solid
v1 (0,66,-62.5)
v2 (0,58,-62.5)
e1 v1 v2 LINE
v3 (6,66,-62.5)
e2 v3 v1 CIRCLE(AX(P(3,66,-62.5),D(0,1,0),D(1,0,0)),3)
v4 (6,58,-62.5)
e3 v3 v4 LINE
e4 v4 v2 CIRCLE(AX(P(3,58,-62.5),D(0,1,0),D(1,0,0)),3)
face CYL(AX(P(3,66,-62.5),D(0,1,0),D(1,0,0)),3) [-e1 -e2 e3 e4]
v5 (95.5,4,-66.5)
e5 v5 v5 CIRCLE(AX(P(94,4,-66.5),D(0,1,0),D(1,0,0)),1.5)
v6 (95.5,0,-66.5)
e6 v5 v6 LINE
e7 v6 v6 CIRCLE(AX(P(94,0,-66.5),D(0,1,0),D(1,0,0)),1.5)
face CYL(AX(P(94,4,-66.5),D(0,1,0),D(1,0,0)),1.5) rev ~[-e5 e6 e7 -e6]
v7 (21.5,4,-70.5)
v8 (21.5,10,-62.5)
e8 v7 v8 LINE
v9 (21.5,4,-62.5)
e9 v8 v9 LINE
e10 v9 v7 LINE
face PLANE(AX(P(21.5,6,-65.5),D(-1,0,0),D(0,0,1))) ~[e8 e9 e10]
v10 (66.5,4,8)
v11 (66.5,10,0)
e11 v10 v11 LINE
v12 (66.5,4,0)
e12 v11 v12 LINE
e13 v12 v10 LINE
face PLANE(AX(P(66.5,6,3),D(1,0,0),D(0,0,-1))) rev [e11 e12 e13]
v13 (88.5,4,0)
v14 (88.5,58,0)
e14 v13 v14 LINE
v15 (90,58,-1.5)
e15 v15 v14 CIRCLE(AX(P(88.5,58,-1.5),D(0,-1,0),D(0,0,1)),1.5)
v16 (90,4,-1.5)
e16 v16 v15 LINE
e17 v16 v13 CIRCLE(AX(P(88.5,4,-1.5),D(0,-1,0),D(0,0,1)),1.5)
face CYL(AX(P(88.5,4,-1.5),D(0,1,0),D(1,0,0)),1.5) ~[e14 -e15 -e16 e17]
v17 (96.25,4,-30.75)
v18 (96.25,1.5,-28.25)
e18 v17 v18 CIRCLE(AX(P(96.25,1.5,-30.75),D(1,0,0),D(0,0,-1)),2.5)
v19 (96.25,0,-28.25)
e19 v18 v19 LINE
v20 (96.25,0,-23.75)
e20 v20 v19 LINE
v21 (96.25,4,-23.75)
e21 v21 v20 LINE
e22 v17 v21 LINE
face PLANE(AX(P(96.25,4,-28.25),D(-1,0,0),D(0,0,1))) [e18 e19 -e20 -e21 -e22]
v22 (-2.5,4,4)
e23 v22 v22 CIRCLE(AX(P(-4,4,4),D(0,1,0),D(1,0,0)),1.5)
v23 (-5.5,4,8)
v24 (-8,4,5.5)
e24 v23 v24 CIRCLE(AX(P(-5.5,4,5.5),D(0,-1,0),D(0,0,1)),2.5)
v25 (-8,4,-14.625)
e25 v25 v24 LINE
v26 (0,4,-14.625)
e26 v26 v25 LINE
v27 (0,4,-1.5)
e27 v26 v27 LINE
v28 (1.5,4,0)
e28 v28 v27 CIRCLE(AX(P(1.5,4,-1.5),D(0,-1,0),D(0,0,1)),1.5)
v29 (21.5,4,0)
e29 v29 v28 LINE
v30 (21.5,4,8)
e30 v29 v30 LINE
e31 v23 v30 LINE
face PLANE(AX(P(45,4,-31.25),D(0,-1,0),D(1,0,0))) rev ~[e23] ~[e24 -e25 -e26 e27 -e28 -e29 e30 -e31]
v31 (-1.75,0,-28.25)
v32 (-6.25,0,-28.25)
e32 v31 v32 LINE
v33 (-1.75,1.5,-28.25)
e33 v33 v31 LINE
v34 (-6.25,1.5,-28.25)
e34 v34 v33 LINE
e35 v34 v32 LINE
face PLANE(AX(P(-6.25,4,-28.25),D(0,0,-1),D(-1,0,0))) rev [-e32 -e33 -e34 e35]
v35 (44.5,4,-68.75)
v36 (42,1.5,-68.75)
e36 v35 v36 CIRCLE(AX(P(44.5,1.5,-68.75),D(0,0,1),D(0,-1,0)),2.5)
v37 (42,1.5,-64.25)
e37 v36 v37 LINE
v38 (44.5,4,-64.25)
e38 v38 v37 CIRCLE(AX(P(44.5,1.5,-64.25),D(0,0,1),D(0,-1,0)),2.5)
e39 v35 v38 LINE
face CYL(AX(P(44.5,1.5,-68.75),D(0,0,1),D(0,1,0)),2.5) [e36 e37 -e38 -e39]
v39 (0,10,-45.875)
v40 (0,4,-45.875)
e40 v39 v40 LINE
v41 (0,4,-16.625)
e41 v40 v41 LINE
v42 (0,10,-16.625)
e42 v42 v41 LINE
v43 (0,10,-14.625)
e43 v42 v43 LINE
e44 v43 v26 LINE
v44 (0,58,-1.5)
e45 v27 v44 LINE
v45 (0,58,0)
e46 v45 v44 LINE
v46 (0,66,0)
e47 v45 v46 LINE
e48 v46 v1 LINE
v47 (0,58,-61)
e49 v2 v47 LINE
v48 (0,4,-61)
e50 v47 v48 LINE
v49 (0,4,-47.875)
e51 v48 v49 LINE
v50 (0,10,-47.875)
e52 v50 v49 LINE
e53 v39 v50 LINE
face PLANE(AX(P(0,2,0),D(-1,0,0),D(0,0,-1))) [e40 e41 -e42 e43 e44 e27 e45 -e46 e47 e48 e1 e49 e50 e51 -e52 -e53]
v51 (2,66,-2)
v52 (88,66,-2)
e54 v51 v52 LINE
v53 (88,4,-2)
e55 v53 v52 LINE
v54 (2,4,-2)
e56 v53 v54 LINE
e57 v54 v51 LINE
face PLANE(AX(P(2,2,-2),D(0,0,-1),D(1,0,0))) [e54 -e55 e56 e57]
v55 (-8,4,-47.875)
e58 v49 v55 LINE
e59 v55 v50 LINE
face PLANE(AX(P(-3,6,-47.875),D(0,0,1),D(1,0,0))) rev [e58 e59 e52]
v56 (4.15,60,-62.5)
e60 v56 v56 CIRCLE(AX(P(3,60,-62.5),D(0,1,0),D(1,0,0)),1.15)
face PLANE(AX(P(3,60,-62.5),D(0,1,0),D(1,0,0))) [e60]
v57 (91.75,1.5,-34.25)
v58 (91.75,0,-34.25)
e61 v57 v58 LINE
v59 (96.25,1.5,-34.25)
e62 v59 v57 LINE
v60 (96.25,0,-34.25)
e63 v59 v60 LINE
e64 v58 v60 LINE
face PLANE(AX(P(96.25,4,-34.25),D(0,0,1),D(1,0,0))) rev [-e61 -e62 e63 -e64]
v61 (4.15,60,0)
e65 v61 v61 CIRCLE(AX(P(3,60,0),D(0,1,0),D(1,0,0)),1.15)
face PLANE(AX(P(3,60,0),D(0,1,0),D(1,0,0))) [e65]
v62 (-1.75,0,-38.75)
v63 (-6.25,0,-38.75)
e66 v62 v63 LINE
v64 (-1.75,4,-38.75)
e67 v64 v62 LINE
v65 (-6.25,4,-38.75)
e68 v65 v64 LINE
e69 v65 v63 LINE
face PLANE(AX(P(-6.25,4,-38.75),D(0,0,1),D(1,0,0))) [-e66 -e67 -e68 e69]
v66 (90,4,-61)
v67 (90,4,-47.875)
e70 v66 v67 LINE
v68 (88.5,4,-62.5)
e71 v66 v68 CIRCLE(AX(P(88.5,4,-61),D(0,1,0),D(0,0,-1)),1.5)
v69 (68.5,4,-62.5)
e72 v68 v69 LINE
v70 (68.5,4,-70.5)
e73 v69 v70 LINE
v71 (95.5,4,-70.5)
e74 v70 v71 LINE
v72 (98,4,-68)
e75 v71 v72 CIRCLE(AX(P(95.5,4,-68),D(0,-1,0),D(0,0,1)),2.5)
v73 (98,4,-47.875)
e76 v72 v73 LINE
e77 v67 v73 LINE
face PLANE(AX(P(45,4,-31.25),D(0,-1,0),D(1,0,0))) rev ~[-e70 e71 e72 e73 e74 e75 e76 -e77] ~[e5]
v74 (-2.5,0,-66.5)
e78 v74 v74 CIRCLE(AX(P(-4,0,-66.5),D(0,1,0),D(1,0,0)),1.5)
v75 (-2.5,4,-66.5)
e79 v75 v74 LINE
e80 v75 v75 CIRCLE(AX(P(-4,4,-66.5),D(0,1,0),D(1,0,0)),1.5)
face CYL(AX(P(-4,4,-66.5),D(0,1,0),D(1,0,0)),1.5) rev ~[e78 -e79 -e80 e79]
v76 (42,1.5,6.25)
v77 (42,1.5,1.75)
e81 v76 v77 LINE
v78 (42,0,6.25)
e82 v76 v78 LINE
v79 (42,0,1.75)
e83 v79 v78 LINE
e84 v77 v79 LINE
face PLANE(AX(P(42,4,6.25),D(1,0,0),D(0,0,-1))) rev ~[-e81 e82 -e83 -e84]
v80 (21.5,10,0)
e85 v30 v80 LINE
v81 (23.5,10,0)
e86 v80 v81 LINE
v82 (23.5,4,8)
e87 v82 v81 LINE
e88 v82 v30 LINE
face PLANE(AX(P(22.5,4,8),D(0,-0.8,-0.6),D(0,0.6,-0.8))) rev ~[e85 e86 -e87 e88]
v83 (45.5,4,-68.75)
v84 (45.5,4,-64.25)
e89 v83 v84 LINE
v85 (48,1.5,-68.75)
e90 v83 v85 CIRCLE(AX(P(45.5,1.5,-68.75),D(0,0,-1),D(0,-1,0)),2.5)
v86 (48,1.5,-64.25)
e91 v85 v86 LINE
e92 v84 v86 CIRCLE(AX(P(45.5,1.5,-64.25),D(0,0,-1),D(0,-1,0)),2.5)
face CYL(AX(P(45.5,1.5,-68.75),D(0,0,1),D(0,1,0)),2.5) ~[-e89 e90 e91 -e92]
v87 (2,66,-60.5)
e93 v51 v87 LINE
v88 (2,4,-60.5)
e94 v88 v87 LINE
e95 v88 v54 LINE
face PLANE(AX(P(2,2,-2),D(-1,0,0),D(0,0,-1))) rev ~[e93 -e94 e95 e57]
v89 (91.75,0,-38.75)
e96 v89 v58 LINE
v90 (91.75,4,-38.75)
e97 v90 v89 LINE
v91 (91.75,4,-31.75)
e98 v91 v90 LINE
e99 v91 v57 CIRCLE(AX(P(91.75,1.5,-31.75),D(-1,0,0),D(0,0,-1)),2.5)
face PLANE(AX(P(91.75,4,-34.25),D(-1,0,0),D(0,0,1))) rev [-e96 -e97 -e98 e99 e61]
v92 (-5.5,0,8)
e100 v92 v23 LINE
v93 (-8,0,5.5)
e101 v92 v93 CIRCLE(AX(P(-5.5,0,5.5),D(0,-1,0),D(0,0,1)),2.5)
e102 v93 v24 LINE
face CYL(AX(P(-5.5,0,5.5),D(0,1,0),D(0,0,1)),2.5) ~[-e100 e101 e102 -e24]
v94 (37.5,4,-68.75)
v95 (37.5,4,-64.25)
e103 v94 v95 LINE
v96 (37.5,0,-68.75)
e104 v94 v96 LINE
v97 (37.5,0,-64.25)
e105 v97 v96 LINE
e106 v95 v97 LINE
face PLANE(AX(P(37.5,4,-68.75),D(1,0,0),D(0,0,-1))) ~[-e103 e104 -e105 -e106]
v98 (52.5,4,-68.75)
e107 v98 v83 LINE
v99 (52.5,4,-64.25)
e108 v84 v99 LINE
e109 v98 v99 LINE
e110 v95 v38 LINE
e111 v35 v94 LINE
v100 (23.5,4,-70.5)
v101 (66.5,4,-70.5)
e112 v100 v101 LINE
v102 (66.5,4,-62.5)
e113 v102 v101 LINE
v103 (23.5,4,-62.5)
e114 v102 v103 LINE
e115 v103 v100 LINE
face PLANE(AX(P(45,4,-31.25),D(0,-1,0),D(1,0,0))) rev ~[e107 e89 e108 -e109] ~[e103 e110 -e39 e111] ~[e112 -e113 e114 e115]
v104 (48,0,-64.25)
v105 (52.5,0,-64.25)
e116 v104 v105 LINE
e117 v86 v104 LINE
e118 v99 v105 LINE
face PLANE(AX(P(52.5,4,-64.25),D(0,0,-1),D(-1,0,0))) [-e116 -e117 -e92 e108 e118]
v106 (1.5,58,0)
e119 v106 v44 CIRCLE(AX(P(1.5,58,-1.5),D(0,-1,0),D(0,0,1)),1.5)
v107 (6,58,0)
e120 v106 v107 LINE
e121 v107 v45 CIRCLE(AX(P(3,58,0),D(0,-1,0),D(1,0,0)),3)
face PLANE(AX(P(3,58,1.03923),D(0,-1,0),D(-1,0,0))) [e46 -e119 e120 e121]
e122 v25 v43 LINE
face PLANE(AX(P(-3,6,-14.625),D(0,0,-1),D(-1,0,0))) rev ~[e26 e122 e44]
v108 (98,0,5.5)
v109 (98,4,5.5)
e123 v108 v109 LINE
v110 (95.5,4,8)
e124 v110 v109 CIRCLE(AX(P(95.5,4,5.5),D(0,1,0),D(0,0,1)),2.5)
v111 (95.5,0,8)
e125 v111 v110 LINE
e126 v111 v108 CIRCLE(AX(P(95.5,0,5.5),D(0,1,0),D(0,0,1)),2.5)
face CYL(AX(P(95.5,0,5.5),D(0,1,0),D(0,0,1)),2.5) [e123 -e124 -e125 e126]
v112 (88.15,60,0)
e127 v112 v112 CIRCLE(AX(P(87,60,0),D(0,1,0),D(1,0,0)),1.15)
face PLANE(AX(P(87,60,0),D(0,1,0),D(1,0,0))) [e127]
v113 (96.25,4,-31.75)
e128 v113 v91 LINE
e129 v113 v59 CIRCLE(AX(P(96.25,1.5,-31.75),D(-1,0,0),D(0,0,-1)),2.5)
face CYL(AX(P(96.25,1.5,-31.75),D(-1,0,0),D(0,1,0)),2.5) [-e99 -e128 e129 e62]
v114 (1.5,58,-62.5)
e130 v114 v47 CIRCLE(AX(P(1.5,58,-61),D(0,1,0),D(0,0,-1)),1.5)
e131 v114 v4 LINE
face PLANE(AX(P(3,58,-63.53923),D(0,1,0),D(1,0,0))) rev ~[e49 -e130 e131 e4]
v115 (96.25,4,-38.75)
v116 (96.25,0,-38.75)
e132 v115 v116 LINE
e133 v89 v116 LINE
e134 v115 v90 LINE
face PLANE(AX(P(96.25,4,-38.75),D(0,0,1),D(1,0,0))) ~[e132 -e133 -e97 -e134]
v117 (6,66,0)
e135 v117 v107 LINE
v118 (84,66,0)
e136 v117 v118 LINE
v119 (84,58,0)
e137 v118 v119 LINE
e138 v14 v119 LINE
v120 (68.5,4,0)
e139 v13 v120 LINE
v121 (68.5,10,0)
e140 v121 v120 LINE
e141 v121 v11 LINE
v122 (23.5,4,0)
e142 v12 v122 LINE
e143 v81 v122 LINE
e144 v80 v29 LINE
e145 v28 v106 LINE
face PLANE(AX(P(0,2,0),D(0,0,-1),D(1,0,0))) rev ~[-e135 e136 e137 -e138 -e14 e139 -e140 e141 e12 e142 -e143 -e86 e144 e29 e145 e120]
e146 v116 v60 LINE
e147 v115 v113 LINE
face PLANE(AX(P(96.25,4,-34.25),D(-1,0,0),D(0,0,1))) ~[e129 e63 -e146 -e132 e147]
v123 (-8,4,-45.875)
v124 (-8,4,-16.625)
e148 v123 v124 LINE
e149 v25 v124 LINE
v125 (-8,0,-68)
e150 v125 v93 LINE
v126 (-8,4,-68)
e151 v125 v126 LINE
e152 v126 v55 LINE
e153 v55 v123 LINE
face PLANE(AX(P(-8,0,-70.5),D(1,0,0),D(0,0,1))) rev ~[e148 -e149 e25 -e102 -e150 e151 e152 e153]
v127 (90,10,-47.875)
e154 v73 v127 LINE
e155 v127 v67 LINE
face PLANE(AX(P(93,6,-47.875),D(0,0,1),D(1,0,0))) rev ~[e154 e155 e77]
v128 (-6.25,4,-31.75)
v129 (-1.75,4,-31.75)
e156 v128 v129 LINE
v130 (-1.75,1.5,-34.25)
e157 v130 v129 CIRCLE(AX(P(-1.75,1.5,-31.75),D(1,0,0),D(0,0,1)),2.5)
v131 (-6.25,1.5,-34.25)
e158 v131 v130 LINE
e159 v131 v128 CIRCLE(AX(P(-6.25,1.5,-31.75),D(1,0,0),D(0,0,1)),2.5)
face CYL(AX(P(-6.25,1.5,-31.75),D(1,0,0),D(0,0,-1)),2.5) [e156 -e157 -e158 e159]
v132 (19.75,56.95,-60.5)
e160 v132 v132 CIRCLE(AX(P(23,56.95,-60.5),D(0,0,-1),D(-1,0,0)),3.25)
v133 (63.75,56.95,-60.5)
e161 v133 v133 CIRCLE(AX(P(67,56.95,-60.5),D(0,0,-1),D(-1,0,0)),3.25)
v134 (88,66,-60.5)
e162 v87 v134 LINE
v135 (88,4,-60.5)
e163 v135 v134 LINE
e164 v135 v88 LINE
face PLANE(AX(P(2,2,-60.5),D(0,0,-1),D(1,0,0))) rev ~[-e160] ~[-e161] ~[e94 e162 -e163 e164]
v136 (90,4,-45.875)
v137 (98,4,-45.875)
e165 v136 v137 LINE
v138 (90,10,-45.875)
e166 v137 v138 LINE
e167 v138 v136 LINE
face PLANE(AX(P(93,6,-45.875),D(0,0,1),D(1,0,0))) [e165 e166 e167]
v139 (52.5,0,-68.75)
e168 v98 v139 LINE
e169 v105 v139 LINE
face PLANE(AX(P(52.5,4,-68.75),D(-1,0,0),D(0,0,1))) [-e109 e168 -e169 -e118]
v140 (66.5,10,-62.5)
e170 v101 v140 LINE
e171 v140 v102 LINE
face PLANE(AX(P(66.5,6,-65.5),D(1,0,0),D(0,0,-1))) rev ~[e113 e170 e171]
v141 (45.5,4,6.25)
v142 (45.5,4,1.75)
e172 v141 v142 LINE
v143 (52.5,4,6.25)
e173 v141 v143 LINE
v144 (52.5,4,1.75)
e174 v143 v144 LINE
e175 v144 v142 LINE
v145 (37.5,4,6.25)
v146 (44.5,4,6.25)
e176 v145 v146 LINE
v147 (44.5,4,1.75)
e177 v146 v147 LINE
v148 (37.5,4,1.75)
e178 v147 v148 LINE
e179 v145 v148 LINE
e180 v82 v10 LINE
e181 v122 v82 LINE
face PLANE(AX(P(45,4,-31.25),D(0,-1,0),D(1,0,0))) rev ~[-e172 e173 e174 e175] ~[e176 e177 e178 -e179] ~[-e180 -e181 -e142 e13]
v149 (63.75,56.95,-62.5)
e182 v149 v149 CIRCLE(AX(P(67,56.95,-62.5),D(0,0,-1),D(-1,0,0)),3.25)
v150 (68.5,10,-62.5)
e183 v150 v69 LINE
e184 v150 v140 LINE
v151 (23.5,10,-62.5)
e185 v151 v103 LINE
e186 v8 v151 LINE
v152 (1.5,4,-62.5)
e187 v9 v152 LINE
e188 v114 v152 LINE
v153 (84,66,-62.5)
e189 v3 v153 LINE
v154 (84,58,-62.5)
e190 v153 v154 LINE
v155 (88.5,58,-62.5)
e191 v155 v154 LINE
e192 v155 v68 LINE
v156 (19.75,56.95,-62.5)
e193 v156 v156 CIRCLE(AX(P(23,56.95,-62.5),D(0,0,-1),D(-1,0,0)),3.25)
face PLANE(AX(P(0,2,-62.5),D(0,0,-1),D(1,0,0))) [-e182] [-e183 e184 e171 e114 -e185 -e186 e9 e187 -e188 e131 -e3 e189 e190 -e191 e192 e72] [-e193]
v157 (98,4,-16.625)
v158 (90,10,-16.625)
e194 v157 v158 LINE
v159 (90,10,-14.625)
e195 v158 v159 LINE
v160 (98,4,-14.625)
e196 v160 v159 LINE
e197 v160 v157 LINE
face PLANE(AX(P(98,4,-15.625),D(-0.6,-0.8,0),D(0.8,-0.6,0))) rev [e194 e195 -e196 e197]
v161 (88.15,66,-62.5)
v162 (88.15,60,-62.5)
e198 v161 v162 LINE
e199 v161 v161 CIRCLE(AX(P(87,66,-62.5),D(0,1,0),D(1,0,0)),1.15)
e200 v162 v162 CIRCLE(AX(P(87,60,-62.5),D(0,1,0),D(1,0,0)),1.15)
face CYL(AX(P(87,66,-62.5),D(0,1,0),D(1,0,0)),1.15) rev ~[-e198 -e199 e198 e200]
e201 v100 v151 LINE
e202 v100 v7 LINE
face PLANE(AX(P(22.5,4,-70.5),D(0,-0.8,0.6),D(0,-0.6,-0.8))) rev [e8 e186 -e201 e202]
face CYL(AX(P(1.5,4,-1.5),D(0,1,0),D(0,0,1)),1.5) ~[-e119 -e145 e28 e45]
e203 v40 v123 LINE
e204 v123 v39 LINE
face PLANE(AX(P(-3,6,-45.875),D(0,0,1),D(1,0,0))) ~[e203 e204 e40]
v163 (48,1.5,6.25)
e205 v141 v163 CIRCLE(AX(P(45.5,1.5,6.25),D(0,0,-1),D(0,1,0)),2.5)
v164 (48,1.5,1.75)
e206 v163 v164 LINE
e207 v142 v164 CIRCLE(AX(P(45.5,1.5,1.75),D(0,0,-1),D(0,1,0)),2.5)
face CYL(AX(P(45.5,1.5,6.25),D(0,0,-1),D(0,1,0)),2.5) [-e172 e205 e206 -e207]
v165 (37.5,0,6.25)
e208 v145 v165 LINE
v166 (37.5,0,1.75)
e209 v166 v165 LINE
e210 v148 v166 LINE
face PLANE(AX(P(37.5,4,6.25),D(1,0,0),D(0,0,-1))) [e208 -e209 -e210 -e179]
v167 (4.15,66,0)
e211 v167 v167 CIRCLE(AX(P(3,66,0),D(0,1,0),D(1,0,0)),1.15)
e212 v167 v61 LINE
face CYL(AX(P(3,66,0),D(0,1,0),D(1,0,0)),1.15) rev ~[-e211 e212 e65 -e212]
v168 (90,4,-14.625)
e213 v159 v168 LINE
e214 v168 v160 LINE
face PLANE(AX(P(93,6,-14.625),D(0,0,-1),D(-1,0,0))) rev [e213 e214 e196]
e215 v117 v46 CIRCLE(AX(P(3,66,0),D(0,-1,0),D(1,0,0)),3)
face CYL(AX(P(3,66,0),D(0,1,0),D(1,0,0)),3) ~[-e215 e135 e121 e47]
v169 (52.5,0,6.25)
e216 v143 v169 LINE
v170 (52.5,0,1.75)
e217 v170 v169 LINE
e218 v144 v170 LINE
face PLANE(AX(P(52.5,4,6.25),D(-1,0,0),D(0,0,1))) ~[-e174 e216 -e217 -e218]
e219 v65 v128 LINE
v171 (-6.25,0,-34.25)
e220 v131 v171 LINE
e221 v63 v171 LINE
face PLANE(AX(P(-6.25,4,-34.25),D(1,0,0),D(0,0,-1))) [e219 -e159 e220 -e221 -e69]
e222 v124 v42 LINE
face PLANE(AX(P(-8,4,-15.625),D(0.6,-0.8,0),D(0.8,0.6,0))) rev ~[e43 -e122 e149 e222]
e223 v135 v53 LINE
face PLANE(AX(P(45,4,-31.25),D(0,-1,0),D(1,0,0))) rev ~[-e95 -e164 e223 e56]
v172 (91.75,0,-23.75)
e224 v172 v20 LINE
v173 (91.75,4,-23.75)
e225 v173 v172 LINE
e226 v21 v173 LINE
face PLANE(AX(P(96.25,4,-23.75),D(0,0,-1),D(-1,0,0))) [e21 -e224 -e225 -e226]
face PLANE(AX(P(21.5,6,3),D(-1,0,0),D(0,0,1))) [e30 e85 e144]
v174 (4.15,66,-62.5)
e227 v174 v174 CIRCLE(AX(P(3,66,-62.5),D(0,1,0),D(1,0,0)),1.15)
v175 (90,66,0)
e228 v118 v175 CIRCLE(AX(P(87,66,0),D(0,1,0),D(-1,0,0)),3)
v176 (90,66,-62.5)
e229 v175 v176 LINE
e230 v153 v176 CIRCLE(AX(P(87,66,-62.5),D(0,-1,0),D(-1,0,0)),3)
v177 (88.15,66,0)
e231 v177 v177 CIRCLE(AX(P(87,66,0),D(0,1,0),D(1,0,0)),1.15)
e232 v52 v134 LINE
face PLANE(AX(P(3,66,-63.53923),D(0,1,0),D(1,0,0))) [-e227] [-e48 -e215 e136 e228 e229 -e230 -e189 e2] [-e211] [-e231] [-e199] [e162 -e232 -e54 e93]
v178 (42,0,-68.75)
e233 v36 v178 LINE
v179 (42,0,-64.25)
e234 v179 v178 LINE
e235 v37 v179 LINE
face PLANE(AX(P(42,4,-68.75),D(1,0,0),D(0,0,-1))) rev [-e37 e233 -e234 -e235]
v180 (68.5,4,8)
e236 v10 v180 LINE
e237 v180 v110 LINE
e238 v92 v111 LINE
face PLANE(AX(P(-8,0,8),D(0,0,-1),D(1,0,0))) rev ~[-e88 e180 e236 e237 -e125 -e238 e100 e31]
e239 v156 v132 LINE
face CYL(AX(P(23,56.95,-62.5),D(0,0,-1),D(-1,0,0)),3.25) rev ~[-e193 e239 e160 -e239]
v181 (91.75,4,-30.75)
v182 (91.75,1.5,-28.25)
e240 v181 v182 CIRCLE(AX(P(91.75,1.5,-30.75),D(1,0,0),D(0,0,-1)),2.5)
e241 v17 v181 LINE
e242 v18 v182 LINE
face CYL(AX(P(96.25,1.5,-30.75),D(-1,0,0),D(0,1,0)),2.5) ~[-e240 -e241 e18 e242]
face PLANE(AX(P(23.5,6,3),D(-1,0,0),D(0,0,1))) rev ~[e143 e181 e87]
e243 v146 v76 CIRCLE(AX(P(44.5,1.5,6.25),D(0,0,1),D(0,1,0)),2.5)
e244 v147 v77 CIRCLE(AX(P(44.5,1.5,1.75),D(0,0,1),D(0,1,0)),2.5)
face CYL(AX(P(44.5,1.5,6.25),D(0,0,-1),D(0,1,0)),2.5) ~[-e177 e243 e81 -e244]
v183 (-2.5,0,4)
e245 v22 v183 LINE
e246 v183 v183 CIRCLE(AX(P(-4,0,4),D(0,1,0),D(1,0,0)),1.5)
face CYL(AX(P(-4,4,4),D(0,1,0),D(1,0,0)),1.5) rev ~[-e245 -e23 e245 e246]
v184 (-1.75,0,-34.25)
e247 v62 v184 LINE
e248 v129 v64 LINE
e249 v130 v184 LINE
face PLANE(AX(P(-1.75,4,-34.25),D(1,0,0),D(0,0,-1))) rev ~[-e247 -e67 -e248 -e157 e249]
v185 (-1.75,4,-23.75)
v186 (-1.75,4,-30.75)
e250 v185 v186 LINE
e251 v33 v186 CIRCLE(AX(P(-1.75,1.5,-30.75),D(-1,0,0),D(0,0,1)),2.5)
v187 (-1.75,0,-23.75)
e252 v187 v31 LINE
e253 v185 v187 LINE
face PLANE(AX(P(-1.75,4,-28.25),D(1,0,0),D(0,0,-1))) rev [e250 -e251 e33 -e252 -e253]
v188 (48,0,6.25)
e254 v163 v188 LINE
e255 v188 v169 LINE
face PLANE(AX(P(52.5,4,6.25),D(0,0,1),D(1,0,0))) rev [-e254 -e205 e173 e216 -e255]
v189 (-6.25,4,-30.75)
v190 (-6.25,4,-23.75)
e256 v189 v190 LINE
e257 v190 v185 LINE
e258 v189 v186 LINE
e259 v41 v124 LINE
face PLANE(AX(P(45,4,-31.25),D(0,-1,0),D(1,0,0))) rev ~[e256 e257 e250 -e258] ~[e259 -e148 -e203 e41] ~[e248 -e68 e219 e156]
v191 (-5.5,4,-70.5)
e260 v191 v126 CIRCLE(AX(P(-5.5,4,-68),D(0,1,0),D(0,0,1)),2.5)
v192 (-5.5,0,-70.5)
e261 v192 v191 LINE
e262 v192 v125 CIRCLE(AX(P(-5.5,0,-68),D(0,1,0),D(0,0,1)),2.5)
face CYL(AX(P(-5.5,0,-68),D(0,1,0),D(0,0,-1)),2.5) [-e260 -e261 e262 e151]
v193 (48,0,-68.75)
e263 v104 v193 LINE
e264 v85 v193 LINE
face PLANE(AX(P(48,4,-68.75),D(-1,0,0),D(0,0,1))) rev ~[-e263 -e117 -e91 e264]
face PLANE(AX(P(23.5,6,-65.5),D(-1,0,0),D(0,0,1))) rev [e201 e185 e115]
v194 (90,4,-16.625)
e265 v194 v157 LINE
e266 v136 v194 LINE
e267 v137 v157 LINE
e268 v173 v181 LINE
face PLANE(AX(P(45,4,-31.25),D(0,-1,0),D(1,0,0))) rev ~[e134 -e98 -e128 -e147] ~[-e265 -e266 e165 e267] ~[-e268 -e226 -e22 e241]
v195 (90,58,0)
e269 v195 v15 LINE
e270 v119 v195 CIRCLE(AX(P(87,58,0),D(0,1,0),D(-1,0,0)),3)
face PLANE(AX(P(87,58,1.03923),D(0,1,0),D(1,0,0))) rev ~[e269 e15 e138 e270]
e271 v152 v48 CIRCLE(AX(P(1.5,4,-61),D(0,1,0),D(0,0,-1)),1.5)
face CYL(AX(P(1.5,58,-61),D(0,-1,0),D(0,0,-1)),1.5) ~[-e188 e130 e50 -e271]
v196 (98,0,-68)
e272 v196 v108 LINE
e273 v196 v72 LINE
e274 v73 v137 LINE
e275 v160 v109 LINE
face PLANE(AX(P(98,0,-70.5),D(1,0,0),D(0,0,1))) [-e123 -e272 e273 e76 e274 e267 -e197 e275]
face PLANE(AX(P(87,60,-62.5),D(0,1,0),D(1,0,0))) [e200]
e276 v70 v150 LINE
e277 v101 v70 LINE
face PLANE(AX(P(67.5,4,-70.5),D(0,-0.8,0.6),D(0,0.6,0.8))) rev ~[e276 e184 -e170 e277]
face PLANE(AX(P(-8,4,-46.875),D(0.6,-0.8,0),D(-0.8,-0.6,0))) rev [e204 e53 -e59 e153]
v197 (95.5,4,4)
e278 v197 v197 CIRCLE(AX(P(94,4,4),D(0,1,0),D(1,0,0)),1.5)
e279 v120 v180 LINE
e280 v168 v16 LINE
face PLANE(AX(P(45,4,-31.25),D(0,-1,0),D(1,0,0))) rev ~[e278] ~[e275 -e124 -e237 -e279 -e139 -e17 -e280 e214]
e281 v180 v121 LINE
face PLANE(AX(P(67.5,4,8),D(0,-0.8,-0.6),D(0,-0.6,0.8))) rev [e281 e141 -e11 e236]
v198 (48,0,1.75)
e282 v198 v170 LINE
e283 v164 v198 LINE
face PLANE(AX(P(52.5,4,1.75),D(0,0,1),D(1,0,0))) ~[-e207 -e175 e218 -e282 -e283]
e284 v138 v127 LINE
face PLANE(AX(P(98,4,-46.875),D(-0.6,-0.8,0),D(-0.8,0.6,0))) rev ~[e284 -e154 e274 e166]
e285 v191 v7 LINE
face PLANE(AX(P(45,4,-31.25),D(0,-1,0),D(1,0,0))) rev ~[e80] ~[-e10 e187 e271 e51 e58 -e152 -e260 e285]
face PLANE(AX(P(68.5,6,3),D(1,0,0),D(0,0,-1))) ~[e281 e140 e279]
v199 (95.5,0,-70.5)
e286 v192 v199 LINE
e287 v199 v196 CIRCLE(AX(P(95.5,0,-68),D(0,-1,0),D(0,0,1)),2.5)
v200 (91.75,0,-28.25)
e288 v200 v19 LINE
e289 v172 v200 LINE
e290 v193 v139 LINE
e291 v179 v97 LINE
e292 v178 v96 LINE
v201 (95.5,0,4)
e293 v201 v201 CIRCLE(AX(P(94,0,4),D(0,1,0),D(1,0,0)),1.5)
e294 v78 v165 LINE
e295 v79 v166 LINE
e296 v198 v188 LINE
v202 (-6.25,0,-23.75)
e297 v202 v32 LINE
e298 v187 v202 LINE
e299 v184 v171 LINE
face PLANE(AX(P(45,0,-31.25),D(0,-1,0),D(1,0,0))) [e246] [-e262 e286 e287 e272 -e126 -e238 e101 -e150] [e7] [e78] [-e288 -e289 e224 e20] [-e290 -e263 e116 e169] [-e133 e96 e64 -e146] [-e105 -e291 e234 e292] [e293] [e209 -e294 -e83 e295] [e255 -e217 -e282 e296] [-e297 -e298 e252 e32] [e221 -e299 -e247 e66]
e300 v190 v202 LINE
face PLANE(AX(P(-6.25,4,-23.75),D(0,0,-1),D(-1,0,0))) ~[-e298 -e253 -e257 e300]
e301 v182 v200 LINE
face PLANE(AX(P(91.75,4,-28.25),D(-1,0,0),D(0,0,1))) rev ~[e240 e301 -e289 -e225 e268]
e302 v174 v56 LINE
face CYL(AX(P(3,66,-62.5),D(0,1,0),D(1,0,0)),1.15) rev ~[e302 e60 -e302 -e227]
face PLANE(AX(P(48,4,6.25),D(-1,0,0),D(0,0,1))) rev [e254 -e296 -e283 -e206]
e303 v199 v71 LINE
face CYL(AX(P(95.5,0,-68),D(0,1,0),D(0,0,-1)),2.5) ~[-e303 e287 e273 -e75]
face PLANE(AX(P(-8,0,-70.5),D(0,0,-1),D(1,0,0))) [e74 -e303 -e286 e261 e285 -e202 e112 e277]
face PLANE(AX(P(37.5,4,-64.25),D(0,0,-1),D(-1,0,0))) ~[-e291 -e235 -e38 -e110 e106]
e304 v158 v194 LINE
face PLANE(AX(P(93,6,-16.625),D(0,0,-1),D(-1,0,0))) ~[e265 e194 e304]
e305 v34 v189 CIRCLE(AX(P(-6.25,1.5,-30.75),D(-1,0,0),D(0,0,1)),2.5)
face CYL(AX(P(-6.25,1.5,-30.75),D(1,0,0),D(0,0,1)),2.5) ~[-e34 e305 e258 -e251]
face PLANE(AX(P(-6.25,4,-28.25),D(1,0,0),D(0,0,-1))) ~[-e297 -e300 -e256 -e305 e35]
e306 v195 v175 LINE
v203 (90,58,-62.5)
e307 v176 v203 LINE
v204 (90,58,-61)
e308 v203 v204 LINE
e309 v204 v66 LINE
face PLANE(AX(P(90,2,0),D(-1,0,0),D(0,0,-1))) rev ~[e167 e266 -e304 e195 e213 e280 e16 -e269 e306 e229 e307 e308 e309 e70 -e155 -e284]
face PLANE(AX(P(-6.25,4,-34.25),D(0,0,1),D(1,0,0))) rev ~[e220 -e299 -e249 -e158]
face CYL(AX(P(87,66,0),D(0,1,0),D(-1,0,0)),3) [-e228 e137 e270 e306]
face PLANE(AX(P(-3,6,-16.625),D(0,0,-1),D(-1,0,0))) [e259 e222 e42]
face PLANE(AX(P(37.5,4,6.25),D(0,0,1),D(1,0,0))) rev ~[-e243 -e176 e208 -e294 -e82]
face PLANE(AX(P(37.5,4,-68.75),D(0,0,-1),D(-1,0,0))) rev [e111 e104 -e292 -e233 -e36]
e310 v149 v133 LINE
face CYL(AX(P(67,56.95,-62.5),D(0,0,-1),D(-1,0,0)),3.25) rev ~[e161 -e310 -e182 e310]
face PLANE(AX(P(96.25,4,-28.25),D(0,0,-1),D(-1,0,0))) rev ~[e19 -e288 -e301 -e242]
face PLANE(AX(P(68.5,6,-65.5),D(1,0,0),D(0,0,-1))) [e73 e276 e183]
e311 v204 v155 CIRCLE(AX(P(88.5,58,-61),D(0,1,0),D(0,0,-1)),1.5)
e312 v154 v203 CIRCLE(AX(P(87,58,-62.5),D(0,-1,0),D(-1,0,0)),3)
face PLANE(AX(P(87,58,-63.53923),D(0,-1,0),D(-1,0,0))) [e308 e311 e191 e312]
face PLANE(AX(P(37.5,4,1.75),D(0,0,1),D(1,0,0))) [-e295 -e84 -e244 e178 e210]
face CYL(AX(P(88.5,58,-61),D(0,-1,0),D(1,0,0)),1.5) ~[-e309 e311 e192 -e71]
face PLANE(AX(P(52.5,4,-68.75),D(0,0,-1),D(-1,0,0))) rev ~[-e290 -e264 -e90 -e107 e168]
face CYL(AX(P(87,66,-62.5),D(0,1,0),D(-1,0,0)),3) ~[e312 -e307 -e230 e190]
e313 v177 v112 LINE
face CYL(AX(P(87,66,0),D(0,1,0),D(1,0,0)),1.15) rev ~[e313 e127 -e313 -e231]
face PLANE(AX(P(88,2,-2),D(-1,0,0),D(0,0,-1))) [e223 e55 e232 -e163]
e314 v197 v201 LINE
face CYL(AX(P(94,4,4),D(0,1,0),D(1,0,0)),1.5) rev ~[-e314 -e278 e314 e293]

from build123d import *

# Parameters (mm, degrees)
BASE_W                                       = 90
BASE_H                                       = 62.5
BASE_EXTRUDE_DEPTH                           = 2
WALLS_W                                      = 90
WALLS_H                                      = 62.5
WALLS_W_2                                    = 86
WALLS_H_2                                    = 58.5
WALLS_EXTRUDE_DEPTH                          = 64
OUTJUT_EXTRUDE_DEPTH                         = 8
HOLES_R                                      = 1.15
HOLES_CUT_DEPTH                              = 6
ANTENNA_GPS_HOLES_R                          = 3.25
ANTENNA_GPS_HOLES_CUT_DEPTH                  = 2
PAD_W                                        = 106
PAD_H                                        = 78.5
PAD_EXTRUDE_DEPTH                            = 4
SCREW_HOLES_R                                = 1.5
SCREW_HOLES_CUT_DEPTH                        = 5
WALL_FILLETS_R                               = 1.5
LENGTH_SUPPORTS_EXTRUDE_DEPTH                = 1
LENGTH_SUPPORT_EXTRUDE_OPPOSING_MIRR_2_DEPTH = 1
WIDTH_SUPPORTS_EXTRUDE_DEPTH                 = 1
WIDTH_SUPPORTS_EXTRUDE_OPPOSING_MIRR_2_DEPTH = 1
ZIP_TIE_HOLE_W                               = 4.5
ZIP_TIE_HOLE_H                               = 4.5
ZIP_TIE_HOLE_LENGTH_CUT_DEPTH                = 5
ZIP_TIE_HOLE_LENGTH_OPPOSING_MIRROR_COPY_W   = 4.5
ZIP_TIE_HOLE_LENGTH_OPPOSING_MIRROR_COPY_H   = 4.5
ZIP_TIE_HOLE_LENGTH_OPPOSING_MIRROR_2_DEPTH  = 5
ZIP_TIE_HOLE_WIDTH_W                         = 4.5
ZIP_TIE_HOLE_WIDTH_H                         = 4.5
ZIP_TIE_HOLE_WIDTH_CUT_DEPTH                 = 5
ZIP_TIE_HOLE_WIDTH_OPPOSING_MIRROR_COPY_W    = 4.5
ZIP_TIE_HOLE_WIDTH_OPPOSING_MIRROR_COPY_H    = 4.5
ZIP_TIE_HOLE_WIDTH_OPPOSING_MIRROR_C_2_DEPTH = 5
ZIP_TIE_FILLETS_R                            = 2.5
PAD_FILLETS_R                                = 2.5


with BuildPart() as part:
    # Base → Base Extrude (new body)
    with BuildSketch(Plane(origin=(0, 0, 0), x_dir=(1, 0, 0), z_dir=(0, 1, 0))):
        with Locations((45, 31.25)):
            Rectangle(BASE_W, BASE_H)
    extrude(amount=BASE_EXTRUDE_DEPTH)

    # Walls → Walls Extrude (add)
    with BuildSketch(Plane(origin=(0, 2, 0), x_dir=(1, 0, 0), z_dir=(0, 1, 0))):
        with Locations((45, 31.25)):
            Rectangle(WALLS_W, WALLS_H)
        with Locations((45, 31.25)):
            Rectangle(WALLS_W_2, WALLS_H_2, mode=Mode.SUBTRACT)
    extrude(amount=WALLS_EXTRUDE_DEPTH)

    # Outjut → Outjut Extrude (add)
    with BuildSketch(Plane(origin=(0, 66, 0), x_dir=(1, 0, 0), z_dir=(0, 1, 0))):
        with BuildLine():
            Line((0, 62.5), (6, 62.5))
            ThreePointArc((6, 62.5), (3, 65.5), (0, 62.5))
        make_face()
        with BuildLine():
            Line((90, 62.5), (84, 62.5))
            ThreePointArc((84, 62.5), (87, 65.5), (90, 62.5))
        make_face()
        with BuildLine():
            Line((90, 0), (84, 0))
            ThreePointArc((84, 0), (87, -3), (90, 0))
        make_face()
        with BuildLine():
            Line((0, 0), (6, 0))
            ThreePointArc((6, 0), (3, -3), (0, 0))
        make_face()
    extrude(amount=-OUTJUT_EXTRUDE_DEPTH)

    # Holes → Holes Cut (cut)
    with BuildSketch(Plane(origin=(0, 66, 0), x_dir=(1, 0, 0), z_dir=(0, 1, 0))):
        with Locations((3, 62.5)):
            Circle(HOLES_R)
        with Locations((87, 62.5)):
            Circle(HOLES_R)
        with Locations((87, 0)):
            Circle(HOLES_R)
        with Locations((3, 0)):
            Circle(HOLES_R)
    extrude(amount=-HOLES_CUT_DEPTH, mode=Mode.SUBTRACT)

    # Antenna/GPS Holes → Antenna/GPS Holes Cut (cut)
    with BuildSketch(Plane(origin=(0, 0, -62.5), x_dir=(-1, 0, 0), z_dir=(0, 0, -1))):
        with Locations((-23, 56.95)):
            Circle(ANTENNA_GPS_HOLES_R)
        with Locations((-67, 56.95)):
            Circle(ANTENNA_GPS_HOLES_R)
    extrude(amount=-ANTENNA_GPS_HOLES_CUT_DEPTH, mode=Mode.SUBTRACT)

    # Pad → Pad Extrude (add)
    with BuildSketch(Plane.XZ):
        with Locations((45, -31.25)):
            Rectangle(PAD_W, PAD_H)
    extrude(amount=-PAD_EXTRUDE_DEPTH)

    # Screw Holes → Screw Holes Cut (cut, through all)
    with BuildSketch(Plane(origin=(0, 4, 0), x_dir=(1, 0, 0), z_dir=(0, 1, 0))):
        with Locations((94, 66.5)):
            Circle(SCREW_HOLES_R)
        with Locations((-4, 66.5)):
            Circle(SCREW_HOLES_R)
        with Locations((94, -4)):
            Circle(SCREW_HOLES_R)
        with Locations((-4, -4)):
            Circle(SCREW_HOLES_R)
    extrude(amount=-SCREW_HOLES_CUT_DEPTH, mode=Mode.SUBTRACT)

    # Wall Fillets
    wall_fillets_edges = [part.edges().sort_by_distance(p)[0] for p in [
        (0, 31, 0),
        (0, 31, -62.5),
        (90, 31, -62.5),
        (90, 31, 0),
    ]]
    fillet(wall_fillets_edges, radius=WALL_FILLETS_R)

    # Length Supports → Length Supports Extrude (add, symmetric)
    with BuildSketch(Plane(origin=(22.5, 0, 0), x_dir=(0, 0, -1), z_dir=(1, 0, 0))):
        Polygon((0, 4), (-8, 4), (0, 10), align=None)
    length_supports_extrude = extrude(amount=LENGTH_SUPPORTS_EXTRUDE_DEPTH, both=True)

    # Length Support Extrude Mirror: Length Supports Extrude across plane
    add(length_supports_extrude.mirror(Plane(origin=(45, 0, 0), x_dir=(0, 0, 1), z_dir=(1, 0, 0))))

    # Length Support Extrude Opposing Mirror: Length Supports Extrude across plane
    add(length_supports_extrude.mirror(Plane.XY.offset(-31.25)))

    # Length Support Extrude Opposing Mirror c → Length Support Extrude Opposing Mirr 2 (add, symmetric)
    with BuildSketch(Plane(origin=(67.5, 0, -62.5), x_dir=(0, 0, 1), z_dir=(-1, 0, 0))):
        Polygon((0, 4), (-8, 4), (0, 10), align=None)
    extrude(amount=LENGTH_SUPPORT_EXTRUDE_OPPOSING_MIRR_2_DEPTH, both=True)

    # Width Supports → Width Supports Extrude (add, symmetric)
    with BuildSketch(Plane.XY.offset(-15.625)):
        Polygon((0, 4), (-8, 4), (0, 10), align=None)
    width_supports_extrude = extrude(amount=WIDTH_SUPPORTS_EXTRUDE_DEPTH, both=True)

    # Width Supports Extrude Mirror: Width Supports Extrude across plane
    add(width_supports_extrude.mirror(Plane.XY.offset(-31.25)))

    # Width Supports Extrude Opposing Mirror: Width Supports Extrude across plane
    add(width_supports_extrude.mirror(Plane(origin=(45, 0, 0), x_dir=(0, 0, 1), z_dir=(1, 0, 0))))

    # Width Supports Extrude Opposing Mirror c → Width Supports Extrude Opposing Mirr 2 (add, symmetric)
    with BuildSketch(Plane(origin=(90, 0, -46.875), x_dir=(-1, 0, 0), z_dir=(0, 0, -1))):
        Polygon((0, 4), (-8, 4), (0, 10), align=None)
    extrude(amount=WIDTH_SUPPORTS_EXTRUDE_OPPOSING_MIRR_2_DEPTH, both=True)

    # Zip Tie Hole → Zip Tie Hole Length Cut (cut, through all)
    with BuildSketch(Plane(origin=(0, 4, 0), x_dir=(1, 0, 0), z_dir=(0, 1, 0))):
        with Locations((39.75, -4)):
            Rectangle(ZIP_TIE_HOLE_W, ZIP_TIE_HOLE_H)
    zip_tie_hole_length_cut = extrude(amount=-ZIP_TIE_HOLE_LENGTH_CUT_DEPTH, mode=Mode.SUBTRACT)

    # Zip Tie Hole Length Mirror: Zip Tie Hole Length Cut across plane
    add(zip_tie_hole_length_cut.mirror(Plane(origin=(45, 0, 0), x_dir=(0, 0, 1), z_dir=(1, 0, 0))), mode=Mode.SUBTRACT)

    # Zip Tie Hole Length Opposing Mirror: Zip Tie Hole Length Cut across plane
    add(zip_tie_hole_length_cut.mirror(Plane.XY.offset(-31.25)), mode=Mode.SUBTRACT)

    # Zip Tie Hole Length Opposing Mirror copy → Zip Tie Hole Length Opposing Mirror  2 (cut, through all)
    with BuildSketch(Plane(origin=(90, 4, -62.5), x_dir=(-1, 0, 0), z_dir=(0, 1, 0))):
        with Locations((39.75, -4)):
            Rectangle(ZIP_TIE_HOLE_LENGTH_OPPOSING_MIRROR_COPY_W, ZIP_TIE_HOLE_LENGTH_OPPOSING_MIRROR_COPY_H)
    extrude(amount=-ZIP_TIE_HOLE_LENGTH_OPPOSING_MIRROR_2_DEPTH, mode=Mode.SUBTRACT)

    # Zip Tie Hole Width → Zip Tie Hole Width Cut (cut, through all)
    with BuildSketch(Plane(origin=(0, 4, 0), x_dir=(1, 0, 0), z_dir=(0, 1, 0))):
        with Locations((-4, 36.5)):
            Rectangle(ZIP_TIE_HOLE_WIDTH_W, ZIP_TIE_HOLE_WIDTH_H)
    zip_tie_hole_width_cut = extrude(amount=-ZIP_TIE_HOLE_WIDTH_CUT_DEPTH, mode=Mode.SUBTRACT)

    # Zip Tie Hole Width Mirror: Zip Tie Hole Width Cut across plane
    add(zip_tie_hole_width_cut.mirror(Plane.XY.offset(-31.25)), mode=Mode.SUBTRACT)

    # Zip Tie Hole Width Opposing Mirror: Zip Tie Hole Width Cut across plane
    add(zip_tie_hole_width_cut.mirror(Plane(origin=(45, 0, 0), x_dir=(0, 0, 1), z_dir=(1, 0, 0))), mode=Mode.SUBTRACT)

    # Zip Tie Hole Width Opposing Mirror copy → Zip Tie Hole Width Opposing Mirror c 2 (cut, through all)
    with BuildSketch(Plane(origin=(90, 4, -62.5), x_dir=(-1, 0, 0), z_dir=(0, 1, 0))):
        with Locations((-4, 36.5)):
            Rectangle(ZIP_TIE_HOLE_WIDTH_OPPOSING_MIRROR_COPY_W, ZIP_TIE_HOLE_WIDTH_OPPOSING_MIRROR_COPY_H)
    extrude(amount=-ZIP_TIE_HOLE_WIDTH_OPPOSING_MIRROR_C_2_DEPTH, mode=Mode.SUBTRACT)

    # Zip Tie Fillets
    zip_tie_fillets_edges = [part.edges().sort_by_distance(p)[0] for p in [
        (42, 4, 4),
        (48, 4, 4),
        (42, 4, -66.5),
        (48, 4, -66.5),
        (-4, 4, -34.25),
        (-4, 4, -28.25),
        (94, 4, -34.25),
        (94, 4, -28.25),
    ]]
    fillet(zip_tie_fillets_edges, radius=ZIP_TIE_FILLETS_R)

    # Pad Fillets
    pad_fillets_edges = [part.edges().sort_by_distance(p)[0] for p in [
        (-8, 2, -70.5),
        (-8, 2, 8),
        (98, 2, 8),
        (98, 2, -70.5),
    ]]
    fillet(pad_fillets_edges, radius=PAD_FILLETS_R)


solid = part.part
